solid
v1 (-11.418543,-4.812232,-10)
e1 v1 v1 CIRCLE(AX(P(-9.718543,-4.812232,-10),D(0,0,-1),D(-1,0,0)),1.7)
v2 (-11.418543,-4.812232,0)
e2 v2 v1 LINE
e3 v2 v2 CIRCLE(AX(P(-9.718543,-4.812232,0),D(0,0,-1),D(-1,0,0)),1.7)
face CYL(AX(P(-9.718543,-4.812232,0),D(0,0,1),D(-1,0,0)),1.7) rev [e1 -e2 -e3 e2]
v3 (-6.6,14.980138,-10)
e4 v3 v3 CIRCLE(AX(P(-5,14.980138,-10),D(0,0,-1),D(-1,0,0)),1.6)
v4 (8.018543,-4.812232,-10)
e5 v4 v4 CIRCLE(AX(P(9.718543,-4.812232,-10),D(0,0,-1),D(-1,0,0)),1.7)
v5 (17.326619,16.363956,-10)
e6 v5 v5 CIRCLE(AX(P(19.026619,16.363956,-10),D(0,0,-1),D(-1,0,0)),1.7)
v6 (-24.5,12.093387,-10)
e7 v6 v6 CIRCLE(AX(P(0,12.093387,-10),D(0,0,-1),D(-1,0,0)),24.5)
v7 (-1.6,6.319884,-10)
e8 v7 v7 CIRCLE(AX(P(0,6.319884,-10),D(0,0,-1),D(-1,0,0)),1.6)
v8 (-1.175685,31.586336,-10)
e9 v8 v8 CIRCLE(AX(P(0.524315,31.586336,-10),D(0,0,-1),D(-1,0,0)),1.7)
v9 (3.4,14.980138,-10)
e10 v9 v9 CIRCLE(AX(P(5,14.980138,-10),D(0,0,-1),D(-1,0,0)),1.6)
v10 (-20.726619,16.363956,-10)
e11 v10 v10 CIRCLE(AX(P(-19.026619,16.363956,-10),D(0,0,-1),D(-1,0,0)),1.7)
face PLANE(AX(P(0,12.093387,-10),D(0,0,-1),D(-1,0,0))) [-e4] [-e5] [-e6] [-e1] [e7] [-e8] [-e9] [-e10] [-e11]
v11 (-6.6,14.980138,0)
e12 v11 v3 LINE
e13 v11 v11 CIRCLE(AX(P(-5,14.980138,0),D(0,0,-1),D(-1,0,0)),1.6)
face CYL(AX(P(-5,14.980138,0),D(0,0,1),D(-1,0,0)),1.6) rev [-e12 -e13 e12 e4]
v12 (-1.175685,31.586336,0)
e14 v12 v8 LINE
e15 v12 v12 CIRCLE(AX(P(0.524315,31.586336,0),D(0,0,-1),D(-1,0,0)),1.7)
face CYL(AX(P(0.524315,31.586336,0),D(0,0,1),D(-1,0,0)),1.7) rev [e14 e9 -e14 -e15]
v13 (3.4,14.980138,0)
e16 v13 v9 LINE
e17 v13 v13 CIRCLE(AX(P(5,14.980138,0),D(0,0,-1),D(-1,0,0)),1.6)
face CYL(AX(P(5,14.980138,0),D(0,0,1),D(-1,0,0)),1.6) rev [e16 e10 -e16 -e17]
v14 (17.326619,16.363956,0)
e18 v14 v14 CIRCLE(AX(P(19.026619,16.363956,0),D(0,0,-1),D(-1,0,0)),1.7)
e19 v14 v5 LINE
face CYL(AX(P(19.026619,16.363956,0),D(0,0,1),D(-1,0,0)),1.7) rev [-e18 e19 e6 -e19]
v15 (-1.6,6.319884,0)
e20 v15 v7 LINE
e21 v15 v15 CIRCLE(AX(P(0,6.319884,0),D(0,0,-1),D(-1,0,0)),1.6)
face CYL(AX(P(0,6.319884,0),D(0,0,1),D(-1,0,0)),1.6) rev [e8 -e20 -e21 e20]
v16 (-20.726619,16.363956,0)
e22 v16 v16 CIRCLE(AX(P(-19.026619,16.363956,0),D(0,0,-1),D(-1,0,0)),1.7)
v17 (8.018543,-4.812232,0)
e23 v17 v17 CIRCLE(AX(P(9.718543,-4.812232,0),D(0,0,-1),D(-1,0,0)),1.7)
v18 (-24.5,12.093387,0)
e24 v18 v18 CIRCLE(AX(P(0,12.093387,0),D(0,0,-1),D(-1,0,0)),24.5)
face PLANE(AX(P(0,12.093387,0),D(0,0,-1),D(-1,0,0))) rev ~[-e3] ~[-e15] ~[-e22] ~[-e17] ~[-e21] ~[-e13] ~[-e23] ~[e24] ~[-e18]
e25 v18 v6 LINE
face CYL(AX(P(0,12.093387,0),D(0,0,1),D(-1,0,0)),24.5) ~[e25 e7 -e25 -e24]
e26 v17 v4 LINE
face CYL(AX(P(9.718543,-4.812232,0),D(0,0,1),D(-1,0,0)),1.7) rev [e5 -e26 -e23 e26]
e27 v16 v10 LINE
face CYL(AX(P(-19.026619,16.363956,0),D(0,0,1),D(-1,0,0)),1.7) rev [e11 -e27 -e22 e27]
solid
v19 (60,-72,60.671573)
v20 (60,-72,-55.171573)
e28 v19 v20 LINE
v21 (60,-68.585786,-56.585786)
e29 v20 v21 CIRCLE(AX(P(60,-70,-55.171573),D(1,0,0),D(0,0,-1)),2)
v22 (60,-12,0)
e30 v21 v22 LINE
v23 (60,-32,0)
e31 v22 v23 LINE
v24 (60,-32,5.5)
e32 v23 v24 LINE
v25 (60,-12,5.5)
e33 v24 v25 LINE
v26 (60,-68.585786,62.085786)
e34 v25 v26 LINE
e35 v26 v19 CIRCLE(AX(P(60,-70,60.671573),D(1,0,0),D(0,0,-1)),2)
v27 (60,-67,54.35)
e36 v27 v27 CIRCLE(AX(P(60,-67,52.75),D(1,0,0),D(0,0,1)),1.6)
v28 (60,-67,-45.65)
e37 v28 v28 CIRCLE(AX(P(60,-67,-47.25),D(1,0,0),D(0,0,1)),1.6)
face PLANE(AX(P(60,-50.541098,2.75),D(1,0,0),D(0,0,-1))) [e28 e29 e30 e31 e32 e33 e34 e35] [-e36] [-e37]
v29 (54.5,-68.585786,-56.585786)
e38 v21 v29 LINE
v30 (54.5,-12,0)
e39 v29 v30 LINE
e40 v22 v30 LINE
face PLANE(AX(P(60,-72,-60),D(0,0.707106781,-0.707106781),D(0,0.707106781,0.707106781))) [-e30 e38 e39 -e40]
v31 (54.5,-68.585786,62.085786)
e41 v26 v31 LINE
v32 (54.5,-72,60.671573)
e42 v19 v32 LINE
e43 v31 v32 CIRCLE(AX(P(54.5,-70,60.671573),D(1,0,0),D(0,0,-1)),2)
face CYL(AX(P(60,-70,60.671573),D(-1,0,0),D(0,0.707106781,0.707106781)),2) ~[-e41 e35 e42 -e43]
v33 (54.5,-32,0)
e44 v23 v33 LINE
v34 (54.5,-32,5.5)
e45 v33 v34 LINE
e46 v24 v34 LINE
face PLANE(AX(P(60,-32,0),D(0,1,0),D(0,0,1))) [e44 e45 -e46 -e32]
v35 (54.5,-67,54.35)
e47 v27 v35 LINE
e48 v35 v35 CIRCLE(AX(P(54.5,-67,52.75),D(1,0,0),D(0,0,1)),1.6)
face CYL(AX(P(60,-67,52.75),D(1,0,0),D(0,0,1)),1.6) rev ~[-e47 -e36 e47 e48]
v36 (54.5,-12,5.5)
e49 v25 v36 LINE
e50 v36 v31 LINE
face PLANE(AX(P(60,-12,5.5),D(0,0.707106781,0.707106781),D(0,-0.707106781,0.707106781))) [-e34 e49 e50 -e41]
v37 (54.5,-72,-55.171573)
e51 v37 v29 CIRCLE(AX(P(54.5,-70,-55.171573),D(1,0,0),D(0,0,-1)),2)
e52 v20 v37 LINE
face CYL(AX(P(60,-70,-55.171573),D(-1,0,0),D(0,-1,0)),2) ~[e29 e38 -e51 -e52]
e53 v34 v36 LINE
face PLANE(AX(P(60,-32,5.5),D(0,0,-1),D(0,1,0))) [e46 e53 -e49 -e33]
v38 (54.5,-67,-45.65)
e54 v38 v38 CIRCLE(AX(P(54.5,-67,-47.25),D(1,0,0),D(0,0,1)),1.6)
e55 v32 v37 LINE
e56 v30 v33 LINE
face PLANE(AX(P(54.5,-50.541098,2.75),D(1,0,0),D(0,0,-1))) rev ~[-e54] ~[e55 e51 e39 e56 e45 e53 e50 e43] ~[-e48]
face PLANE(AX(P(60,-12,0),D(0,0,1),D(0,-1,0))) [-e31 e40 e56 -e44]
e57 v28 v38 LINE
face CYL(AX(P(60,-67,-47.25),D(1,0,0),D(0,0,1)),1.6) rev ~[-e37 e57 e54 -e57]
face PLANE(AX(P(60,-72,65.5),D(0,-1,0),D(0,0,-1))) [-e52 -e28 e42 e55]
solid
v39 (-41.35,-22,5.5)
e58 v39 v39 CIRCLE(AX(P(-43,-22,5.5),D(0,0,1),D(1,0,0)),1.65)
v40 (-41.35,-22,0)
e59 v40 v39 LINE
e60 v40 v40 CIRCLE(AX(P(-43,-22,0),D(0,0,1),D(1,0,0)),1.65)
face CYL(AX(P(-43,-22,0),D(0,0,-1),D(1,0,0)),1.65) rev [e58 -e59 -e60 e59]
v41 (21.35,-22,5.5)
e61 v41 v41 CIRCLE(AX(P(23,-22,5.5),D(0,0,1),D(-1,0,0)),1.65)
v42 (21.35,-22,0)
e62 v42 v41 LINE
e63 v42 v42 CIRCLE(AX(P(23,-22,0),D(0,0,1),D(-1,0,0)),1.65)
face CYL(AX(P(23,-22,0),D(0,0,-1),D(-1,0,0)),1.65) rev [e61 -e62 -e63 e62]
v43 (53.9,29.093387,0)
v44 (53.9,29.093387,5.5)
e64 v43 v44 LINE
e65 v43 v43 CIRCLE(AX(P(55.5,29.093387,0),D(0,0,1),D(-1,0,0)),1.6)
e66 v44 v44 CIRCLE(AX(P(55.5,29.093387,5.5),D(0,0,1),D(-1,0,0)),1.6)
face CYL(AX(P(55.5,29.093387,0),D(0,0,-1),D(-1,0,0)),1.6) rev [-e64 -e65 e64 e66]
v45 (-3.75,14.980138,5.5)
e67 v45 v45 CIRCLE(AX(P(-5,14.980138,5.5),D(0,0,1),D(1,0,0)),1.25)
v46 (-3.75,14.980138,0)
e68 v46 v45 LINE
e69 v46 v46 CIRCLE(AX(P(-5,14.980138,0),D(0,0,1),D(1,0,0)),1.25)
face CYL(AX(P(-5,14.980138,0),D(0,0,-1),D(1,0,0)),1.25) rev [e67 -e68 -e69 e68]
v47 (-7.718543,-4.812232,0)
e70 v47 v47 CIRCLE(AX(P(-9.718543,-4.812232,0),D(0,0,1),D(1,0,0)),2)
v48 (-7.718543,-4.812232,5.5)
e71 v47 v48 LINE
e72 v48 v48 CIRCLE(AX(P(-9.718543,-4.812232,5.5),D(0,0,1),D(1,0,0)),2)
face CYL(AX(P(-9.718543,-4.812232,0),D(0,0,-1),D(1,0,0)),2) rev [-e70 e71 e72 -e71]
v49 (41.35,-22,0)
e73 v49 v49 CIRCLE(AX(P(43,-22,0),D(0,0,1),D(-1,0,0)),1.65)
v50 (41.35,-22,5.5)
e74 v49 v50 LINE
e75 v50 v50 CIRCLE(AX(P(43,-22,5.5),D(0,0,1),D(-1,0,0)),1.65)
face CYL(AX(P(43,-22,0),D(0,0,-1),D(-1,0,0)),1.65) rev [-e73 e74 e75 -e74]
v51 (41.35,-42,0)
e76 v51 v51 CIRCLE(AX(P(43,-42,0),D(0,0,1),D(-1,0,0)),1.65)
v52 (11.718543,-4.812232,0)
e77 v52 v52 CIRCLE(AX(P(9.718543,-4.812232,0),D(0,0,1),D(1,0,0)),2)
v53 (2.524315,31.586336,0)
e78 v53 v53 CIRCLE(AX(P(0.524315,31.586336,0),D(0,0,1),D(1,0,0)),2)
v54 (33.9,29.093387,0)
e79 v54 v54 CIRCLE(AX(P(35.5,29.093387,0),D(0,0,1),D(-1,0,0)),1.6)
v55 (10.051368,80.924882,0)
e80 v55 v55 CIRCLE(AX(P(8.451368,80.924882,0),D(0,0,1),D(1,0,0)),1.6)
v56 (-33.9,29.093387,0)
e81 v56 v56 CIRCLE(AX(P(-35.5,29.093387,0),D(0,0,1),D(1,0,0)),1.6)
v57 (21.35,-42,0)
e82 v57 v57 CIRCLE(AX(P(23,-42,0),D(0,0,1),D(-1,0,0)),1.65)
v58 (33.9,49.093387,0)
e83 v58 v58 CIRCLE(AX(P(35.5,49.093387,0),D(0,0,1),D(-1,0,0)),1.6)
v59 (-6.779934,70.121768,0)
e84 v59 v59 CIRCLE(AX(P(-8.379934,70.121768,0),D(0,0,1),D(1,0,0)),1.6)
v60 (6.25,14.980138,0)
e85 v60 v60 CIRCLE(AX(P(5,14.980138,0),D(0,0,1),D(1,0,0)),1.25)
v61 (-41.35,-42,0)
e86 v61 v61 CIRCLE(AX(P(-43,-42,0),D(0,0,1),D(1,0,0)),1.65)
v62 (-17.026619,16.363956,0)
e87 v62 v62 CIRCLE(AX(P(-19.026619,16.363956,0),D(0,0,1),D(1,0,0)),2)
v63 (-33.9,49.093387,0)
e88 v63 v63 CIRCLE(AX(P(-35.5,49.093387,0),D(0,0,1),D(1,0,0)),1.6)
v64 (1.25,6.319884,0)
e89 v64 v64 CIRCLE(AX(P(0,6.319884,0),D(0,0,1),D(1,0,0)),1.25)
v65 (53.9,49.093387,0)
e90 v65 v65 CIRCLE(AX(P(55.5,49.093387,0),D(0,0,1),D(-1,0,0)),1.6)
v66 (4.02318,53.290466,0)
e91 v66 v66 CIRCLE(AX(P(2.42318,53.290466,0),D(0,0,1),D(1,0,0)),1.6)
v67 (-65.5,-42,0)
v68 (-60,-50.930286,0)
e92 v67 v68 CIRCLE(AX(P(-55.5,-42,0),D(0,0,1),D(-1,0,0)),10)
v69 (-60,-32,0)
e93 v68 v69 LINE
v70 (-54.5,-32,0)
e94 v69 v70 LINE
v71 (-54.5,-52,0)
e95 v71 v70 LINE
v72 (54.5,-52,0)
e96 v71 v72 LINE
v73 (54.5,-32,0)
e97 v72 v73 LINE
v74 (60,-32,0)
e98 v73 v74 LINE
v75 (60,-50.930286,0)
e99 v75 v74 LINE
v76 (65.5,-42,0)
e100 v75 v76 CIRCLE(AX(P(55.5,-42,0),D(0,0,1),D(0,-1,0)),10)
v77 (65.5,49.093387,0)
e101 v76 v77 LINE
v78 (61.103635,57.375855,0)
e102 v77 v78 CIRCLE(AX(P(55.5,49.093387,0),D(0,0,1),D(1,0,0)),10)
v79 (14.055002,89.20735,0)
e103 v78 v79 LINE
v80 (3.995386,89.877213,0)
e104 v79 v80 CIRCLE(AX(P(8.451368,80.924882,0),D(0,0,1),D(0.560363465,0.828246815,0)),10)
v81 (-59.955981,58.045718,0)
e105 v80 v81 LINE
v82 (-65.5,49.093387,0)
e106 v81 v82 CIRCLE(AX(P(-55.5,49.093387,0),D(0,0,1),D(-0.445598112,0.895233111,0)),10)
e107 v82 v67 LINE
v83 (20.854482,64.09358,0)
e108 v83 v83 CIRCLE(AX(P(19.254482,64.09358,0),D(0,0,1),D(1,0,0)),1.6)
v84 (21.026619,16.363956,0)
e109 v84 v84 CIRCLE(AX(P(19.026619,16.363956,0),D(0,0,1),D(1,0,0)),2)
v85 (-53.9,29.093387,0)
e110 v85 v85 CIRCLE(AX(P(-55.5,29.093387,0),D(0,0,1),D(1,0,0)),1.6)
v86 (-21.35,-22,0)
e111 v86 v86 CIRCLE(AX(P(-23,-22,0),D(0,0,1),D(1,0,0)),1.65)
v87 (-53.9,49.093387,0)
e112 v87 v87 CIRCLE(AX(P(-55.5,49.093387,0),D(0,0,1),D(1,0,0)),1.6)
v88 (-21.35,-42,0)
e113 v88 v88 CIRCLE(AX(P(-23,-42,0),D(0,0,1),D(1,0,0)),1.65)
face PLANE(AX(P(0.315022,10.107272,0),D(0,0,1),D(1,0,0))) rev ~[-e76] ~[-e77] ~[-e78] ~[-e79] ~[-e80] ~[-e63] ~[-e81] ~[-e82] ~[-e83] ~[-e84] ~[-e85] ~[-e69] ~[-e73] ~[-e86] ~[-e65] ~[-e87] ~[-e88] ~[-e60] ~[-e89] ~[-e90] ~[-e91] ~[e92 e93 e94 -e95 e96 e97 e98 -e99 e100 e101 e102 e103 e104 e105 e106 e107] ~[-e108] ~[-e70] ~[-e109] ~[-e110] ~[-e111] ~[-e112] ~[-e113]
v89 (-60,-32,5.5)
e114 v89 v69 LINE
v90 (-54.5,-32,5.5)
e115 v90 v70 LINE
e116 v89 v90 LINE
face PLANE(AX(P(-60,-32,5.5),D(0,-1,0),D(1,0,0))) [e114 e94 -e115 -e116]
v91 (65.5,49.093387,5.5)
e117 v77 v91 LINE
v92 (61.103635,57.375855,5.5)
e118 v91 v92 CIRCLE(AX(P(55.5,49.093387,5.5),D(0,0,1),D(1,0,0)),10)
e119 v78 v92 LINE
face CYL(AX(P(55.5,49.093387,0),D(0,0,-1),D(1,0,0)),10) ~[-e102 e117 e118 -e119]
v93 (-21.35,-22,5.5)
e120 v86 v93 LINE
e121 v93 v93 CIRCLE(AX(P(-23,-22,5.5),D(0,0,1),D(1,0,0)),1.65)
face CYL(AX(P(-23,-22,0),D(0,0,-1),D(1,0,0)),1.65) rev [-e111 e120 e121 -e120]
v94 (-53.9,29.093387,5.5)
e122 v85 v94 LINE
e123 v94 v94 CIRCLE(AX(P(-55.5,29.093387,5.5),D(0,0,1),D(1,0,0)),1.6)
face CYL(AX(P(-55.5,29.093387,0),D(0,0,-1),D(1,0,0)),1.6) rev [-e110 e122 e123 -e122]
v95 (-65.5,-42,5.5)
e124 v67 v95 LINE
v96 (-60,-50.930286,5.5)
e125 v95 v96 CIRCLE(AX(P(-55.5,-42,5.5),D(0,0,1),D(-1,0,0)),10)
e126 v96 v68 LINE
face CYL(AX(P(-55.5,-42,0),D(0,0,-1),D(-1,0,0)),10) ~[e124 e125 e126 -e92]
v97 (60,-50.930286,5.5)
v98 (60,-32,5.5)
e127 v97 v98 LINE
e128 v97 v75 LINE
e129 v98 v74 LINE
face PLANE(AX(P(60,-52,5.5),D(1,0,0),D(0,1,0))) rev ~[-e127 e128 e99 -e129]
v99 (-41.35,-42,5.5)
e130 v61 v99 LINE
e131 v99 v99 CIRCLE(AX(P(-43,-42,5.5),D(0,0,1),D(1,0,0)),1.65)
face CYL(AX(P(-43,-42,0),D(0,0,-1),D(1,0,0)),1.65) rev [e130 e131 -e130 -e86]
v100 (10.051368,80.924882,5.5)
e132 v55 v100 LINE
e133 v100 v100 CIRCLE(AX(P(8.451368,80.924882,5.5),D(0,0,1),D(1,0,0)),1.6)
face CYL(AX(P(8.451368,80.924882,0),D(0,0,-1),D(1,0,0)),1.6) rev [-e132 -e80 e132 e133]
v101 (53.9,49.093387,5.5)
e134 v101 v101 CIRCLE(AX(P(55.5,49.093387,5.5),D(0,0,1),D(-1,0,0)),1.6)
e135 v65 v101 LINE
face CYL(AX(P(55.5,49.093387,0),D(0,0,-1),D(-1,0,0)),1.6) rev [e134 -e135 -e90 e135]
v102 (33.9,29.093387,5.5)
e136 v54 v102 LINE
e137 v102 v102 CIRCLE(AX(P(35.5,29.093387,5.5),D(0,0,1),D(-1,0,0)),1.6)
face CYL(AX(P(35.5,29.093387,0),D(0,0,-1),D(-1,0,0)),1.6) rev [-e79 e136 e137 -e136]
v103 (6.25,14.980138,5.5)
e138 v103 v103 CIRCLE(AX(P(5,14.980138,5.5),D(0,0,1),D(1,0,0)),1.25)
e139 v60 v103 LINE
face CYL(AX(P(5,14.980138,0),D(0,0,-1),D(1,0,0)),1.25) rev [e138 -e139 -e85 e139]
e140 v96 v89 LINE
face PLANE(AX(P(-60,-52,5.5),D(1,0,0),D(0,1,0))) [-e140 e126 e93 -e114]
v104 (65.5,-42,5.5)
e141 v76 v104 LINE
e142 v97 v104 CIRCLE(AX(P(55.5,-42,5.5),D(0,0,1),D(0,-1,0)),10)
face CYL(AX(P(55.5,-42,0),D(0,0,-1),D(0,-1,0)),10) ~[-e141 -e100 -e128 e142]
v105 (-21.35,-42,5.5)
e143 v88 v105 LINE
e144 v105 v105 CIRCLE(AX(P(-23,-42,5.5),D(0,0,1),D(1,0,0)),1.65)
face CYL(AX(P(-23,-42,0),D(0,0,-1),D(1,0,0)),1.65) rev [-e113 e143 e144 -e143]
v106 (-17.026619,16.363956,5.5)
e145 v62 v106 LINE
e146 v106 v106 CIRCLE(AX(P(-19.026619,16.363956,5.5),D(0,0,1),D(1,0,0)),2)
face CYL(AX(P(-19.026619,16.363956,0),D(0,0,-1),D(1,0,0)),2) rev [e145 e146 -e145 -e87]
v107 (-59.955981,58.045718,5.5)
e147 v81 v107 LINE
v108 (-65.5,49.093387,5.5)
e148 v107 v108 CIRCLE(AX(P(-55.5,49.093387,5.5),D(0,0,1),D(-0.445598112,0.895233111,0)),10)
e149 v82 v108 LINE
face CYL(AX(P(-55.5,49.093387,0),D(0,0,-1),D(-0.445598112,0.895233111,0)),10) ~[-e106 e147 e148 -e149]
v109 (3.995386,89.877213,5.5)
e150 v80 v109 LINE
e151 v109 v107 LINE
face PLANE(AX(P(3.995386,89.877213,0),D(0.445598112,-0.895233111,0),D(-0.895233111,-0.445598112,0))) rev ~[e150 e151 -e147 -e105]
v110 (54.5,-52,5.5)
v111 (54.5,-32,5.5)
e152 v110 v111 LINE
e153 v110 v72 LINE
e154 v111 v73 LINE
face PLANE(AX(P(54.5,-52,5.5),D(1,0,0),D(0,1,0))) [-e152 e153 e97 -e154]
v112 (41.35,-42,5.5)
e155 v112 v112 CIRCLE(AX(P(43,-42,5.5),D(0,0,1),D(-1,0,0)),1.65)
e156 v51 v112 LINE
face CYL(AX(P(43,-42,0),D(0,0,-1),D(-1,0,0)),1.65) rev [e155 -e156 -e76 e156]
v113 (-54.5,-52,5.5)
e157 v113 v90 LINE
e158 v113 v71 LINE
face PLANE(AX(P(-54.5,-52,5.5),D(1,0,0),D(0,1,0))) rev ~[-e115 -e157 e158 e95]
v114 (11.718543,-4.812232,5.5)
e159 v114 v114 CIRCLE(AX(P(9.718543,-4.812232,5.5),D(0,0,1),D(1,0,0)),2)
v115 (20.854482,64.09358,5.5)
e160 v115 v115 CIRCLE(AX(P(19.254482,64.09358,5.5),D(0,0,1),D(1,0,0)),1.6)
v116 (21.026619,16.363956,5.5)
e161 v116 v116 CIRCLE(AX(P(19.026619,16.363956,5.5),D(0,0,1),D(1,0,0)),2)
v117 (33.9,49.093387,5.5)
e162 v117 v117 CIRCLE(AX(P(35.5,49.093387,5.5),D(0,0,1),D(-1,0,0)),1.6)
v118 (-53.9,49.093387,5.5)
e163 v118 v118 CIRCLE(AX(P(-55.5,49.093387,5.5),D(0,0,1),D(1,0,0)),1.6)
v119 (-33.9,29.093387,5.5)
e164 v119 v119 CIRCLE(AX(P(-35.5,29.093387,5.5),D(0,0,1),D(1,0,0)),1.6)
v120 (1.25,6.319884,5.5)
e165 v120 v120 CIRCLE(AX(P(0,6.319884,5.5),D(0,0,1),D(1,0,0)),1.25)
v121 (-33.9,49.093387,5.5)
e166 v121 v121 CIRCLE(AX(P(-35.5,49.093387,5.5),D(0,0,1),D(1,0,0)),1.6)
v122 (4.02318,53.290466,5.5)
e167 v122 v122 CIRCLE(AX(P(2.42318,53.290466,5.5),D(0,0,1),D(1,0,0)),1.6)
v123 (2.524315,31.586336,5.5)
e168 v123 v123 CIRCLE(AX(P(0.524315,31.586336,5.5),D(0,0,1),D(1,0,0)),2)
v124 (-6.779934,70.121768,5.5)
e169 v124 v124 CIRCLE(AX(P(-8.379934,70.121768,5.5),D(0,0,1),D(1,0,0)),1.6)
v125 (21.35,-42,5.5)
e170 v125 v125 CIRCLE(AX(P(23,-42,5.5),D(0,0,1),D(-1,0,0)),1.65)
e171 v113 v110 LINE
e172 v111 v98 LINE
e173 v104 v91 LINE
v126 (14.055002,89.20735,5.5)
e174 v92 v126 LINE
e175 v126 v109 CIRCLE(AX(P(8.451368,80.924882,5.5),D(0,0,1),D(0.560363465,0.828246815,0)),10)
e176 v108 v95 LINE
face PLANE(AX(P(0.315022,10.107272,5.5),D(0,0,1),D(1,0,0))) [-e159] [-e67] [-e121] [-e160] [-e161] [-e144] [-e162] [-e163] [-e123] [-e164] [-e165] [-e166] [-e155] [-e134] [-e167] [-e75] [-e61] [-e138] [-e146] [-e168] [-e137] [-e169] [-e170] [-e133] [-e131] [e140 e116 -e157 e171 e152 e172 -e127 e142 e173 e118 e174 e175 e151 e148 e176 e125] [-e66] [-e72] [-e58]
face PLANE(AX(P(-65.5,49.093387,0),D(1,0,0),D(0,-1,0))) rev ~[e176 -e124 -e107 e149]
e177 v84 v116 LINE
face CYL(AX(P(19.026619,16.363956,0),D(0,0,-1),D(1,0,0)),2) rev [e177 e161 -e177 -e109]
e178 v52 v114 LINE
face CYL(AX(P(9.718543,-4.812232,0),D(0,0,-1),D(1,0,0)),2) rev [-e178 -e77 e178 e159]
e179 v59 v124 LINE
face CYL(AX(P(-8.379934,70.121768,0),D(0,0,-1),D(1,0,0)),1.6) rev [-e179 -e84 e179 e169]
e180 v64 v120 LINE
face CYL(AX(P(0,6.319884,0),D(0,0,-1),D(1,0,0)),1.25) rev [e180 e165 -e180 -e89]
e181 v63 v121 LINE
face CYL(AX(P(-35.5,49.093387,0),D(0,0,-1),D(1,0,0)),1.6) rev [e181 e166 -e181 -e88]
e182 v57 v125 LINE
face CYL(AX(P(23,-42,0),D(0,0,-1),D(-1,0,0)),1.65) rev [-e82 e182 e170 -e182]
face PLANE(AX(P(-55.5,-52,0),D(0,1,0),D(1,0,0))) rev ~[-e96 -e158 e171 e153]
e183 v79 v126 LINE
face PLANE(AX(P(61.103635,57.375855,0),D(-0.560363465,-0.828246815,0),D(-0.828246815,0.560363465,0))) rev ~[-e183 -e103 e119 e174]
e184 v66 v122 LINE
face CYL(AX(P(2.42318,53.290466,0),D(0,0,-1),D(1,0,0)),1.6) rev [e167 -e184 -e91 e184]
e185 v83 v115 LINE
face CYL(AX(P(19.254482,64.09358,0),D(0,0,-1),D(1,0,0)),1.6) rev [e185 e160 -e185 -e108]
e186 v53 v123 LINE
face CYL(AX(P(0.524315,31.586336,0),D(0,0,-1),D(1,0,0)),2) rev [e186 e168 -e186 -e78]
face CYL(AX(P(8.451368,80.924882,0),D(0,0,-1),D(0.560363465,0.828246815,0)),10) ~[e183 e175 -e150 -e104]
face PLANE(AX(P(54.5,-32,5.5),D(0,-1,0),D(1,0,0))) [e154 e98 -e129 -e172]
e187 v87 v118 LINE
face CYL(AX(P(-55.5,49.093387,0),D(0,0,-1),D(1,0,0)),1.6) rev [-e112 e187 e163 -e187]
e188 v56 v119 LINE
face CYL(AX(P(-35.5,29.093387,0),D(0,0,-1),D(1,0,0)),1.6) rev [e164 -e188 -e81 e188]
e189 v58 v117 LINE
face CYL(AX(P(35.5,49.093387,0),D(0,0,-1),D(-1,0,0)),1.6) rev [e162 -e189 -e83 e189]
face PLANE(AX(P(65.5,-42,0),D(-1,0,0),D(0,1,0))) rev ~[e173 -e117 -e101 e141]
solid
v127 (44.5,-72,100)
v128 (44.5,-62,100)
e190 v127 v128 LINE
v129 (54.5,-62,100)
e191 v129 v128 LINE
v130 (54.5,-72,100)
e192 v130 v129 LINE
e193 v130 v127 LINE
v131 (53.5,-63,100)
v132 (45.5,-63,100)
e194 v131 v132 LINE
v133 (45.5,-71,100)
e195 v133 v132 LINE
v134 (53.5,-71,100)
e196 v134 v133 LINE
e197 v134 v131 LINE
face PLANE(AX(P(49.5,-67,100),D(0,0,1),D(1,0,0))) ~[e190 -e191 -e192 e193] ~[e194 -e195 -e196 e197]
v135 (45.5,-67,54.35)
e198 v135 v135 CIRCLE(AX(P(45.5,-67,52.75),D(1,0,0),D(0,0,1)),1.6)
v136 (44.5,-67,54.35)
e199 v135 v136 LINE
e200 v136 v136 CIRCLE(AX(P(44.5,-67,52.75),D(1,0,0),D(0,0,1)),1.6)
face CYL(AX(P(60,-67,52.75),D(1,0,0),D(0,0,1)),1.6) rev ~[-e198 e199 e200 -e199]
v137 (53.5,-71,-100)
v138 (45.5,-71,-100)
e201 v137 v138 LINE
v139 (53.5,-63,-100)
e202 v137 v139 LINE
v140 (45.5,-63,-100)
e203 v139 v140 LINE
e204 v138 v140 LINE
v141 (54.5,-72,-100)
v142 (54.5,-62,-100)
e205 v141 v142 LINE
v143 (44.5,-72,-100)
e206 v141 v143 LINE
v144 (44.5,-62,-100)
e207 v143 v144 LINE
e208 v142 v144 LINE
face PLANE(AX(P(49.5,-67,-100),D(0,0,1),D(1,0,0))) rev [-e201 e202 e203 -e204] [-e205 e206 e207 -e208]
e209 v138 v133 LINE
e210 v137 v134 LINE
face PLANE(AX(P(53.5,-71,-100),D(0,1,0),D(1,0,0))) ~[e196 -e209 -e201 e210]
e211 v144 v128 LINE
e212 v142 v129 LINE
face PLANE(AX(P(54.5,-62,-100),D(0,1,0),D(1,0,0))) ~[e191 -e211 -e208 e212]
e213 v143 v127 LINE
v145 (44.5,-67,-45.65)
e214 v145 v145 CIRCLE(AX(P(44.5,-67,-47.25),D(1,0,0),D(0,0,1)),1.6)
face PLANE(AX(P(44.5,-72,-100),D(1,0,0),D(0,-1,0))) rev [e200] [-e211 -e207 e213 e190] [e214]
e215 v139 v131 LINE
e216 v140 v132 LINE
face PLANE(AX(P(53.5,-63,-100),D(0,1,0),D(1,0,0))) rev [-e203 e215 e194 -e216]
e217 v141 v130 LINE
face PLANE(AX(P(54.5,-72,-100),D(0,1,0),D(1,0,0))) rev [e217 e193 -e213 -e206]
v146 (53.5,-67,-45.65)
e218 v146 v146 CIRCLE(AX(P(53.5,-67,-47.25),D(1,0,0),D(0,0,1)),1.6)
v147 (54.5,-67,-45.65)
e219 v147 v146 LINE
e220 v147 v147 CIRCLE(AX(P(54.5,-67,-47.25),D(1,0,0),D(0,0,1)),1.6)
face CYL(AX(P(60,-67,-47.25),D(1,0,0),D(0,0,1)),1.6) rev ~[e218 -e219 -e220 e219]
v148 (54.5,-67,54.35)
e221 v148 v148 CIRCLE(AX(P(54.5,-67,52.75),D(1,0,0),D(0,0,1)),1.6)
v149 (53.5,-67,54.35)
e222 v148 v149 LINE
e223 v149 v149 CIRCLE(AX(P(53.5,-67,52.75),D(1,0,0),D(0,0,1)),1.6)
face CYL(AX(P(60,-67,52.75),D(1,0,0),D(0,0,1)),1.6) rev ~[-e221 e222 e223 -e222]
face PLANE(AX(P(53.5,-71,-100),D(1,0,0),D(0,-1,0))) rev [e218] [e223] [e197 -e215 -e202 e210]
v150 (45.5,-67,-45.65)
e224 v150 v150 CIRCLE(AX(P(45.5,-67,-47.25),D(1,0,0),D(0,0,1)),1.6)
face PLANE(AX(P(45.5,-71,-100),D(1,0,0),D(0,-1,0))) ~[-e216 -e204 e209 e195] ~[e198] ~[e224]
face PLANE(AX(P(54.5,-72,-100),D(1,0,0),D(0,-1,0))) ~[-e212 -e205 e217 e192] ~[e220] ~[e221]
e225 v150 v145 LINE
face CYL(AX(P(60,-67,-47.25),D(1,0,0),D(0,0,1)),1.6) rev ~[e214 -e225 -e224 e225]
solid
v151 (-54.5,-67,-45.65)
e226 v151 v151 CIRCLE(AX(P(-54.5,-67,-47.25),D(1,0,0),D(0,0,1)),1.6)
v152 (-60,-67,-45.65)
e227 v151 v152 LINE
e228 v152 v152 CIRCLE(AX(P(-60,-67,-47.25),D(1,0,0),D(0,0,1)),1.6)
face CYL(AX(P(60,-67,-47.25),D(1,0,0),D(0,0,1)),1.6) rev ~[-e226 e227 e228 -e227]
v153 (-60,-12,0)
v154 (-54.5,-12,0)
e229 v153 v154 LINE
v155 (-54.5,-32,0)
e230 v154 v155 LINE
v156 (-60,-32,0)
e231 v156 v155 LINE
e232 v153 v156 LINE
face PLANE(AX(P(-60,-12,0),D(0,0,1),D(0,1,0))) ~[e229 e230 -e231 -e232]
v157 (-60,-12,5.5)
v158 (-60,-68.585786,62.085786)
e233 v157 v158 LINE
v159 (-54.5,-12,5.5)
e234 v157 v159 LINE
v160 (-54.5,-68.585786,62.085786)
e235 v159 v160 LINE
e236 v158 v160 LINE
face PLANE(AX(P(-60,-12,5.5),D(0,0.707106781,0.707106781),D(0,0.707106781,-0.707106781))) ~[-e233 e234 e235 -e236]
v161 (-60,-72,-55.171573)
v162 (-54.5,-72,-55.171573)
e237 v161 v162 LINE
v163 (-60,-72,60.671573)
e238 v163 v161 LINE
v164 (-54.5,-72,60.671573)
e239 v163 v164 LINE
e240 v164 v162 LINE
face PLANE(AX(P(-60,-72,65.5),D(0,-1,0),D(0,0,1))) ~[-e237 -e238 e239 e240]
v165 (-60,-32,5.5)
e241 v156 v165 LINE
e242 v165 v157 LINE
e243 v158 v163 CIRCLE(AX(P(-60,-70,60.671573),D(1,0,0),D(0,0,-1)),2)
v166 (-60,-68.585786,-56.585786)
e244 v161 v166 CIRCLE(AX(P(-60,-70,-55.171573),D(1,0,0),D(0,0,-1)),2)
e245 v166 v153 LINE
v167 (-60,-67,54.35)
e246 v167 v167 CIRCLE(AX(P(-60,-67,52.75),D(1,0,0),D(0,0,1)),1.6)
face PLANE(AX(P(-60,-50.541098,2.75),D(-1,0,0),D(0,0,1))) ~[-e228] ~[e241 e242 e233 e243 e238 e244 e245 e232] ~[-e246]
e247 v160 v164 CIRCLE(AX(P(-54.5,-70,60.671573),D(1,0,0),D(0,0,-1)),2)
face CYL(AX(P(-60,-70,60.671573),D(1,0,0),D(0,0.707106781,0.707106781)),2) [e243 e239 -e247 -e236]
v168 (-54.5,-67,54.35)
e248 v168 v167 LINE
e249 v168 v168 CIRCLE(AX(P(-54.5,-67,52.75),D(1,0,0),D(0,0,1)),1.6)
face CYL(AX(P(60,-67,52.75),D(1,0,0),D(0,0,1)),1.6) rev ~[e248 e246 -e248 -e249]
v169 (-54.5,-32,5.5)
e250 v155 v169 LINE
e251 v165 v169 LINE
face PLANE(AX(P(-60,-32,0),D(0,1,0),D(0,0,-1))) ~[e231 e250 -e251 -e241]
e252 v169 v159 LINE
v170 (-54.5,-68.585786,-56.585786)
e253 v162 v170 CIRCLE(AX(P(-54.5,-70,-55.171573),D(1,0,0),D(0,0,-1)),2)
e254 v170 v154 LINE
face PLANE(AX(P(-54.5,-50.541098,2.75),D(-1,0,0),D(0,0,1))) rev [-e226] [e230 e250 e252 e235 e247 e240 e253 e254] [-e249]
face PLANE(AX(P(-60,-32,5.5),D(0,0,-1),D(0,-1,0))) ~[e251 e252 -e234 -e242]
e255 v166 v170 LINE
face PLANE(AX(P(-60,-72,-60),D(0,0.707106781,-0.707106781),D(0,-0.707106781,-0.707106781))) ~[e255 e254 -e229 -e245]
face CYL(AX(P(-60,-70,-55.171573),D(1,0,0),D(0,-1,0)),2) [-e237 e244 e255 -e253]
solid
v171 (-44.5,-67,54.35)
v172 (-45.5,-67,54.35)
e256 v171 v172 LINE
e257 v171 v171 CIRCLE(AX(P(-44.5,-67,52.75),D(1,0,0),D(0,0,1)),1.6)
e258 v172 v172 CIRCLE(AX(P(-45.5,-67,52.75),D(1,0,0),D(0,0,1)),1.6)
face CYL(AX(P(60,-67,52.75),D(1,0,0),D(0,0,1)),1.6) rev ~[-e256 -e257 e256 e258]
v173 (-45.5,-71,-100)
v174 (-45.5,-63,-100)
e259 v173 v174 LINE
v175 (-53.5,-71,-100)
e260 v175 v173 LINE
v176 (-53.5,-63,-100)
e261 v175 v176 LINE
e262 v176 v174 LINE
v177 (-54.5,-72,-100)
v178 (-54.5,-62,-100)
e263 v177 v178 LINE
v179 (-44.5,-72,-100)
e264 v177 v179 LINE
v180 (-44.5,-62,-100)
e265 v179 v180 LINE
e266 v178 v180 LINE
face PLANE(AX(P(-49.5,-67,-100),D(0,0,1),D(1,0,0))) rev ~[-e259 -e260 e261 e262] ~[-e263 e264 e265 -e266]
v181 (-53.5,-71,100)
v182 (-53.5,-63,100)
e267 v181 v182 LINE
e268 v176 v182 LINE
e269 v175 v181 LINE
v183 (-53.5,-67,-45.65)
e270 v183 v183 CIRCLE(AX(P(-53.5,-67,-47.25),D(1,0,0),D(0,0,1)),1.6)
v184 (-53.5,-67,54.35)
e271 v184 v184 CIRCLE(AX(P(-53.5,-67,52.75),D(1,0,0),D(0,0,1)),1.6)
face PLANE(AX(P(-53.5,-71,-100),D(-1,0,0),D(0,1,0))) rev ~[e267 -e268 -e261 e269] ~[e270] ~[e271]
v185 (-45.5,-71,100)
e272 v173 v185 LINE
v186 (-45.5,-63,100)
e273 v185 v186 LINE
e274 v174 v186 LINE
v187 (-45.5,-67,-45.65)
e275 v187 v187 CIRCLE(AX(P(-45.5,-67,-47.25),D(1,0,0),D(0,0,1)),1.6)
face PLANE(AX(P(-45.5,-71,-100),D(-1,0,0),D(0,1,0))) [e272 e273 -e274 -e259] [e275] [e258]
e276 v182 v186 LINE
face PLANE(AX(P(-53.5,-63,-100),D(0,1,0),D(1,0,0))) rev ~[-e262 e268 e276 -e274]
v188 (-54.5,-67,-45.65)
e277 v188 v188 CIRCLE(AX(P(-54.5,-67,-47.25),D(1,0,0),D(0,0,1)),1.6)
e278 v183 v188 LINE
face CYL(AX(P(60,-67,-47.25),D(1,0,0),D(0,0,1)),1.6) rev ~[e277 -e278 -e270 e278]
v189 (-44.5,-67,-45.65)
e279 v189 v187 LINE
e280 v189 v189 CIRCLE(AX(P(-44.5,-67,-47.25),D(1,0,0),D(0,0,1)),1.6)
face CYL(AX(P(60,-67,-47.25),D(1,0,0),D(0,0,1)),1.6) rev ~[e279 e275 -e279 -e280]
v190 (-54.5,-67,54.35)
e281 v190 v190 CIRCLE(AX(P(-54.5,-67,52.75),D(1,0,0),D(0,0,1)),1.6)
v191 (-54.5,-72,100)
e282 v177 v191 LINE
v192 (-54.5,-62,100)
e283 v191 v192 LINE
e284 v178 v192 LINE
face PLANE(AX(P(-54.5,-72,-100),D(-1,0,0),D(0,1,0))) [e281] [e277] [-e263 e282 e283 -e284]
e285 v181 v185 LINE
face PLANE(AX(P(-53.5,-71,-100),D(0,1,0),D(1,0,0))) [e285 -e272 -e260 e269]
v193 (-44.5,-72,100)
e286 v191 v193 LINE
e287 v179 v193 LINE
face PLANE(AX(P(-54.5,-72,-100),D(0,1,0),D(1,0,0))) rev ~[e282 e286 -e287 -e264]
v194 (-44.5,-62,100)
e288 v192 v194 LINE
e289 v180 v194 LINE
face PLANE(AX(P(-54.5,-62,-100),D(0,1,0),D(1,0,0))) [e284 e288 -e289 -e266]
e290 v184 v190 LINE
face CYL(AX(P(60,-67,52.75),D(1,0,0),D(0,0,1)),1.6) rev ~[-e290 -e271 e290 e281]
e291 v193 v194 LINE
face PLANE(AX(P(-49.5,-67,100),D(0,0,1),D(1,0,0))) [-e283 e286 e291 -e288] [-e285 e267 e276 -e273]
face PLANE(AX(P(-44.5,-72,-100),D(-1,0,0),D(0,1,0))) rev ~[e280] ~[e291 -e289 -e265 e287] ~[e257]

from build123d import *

# Parameters (mm, degrees)
SKETCH_2_R           = 1.65
SKETCH_2_R_2         = 1.6
SKETCH_2_R_3         = 2
SKETCH_2_R_4         = 1.25
EXTRUDE_1_DEPTH      = 5.5
SKETCH_4_R           = 24.5
SKETCH_4_R_2         = 1.7
SKETCH_4_R_3         = 1.6
EXTRUDE_2_DEPTH      = 10
SKETCH_6_W           = 5.5
SKETCH_6_H           = 20
CUT_EXTRUDE_1_DEPTH  = 114.127512901
EXTRUDE_3_DEPTH      = 5.5
FILLET_1_R           = 2
EXTRUDE_4_DEPTH      = 100
EXTRUDE_4_DEPTH_BACK = 100
SKETCH_8_W           = 10
SKETCH_8_H           = 10
SKETCH_8_W_2         = 8
SKETCH_8_H_2         = 8
SKETCH_9_R           = 1.6
CUT_EXTRUDE_2_DEPTH  = 185.438564772


with BuildPart() as part:
    # ｽｹｯﾁ2 → ﾎﾞｽ - 押し出し1 (new body)
    with BuildSketch(Plane.XY):
        with BuildLine():
            Line((-65.5, 49.093386622), (-65.5, -42))
            ThreePointArc((-65.5, -42), (-62.571067812, -49.071067812), (-55.5, -52))
            Line((-55.5, -52), (55.5, -52))
            ThreePointArc((55.5, -52), (62.571067812, -49.071067812), (65.5, -42))
            Line((65.5, -42), (65.5, 49.093386622))
            ThreePointArc((65.5, 49.093386622), (64.332789665, 53.781864705), (61.103634655, 57.375854772))
            Line((61.103634655, 57.375854772), (14.055002247, 89.207350196))
            ThreePointArc((14.055002247, 89.207350196), (9.115789336, 90.902784819), (3.995386471, 89.877213153))
            Line((3.995386471, 89.877213153), (-59.955981121, 58.045717729))
            ThreePointArc((-59.955981121, 58.045717729), (-64.001758971, 54.358374219), (-65.5, 49.093386622))
        make_face()
        with Locations((-43, -42)):
            Circle(SKETCH_2_R, mode=Mode.SUBTRACT)
        with Locations((-43, -22)):
            Circle(SKETCH_2_R, mode=Mode.SUBTRACT)
        with Locations((-23, -22)):
            Circle(SKETCH_2_R, mode=Mode.SUBTRACT)
        with Locations((-23, -42)):
            Circle(SKETCH_2_R, mode=Mode.SUBTRACT)
        with Locations(Location((23, -42, 0), (0, 0, 180))):
            Circle(SKETCH_2_R, mode=Mode.SUBTRACT)
        with Locations(Location((23, -22, 0), (0, 0, 180))):
            Circle(SKETCH_2_R, mode=Mode.SUBTRACT)
        with Locations(Location((43, -22, 0), (0, 0, 180))):
            Circle(SKETCH_2_R, mode=Mode.SUBTRACT)
        with Locations(Location((43, -42, 0), (0, 0, 180))):
            Circle(SKETCH_2_R, mode=Mode.SUBTRACT)
        with Locations((-55.5, 49.093386622)):
            Circle(SKETCH_2_R_2, mode=Mode.SUBTRACT)
        with Locations((-55.5, 29.093386622)):
            Circle(SKETCH_2_R_2, mode=Mode.SUBTRACT)
        with Locations((-35.5, 29.093386622)):
            Circle(SKETCH_2_R_2, mode=Mode.SUBTRACT)
        with Locations((-35.5, 49.093386622)):
            Circle(SKETCH_2_R_2, mode=Mode.SUBTRACT)
        with Locations(Location((35.5, 49.093386622, 0), (0, 0, 180))):
            Circle(SKETCH_2_R_2, mode=Mode.SUBTRACT)
        with Locations(Location((35.5, 29.093386622, 0), (0, 0, 180))):
            Circle(SKETCH_2_R_2, mode=Mode.SUBTRACT)
        with Locations(Location((55.5, 29.093386622, 0), (0, 0, 180))):
            Circle(SKETCH_2_R_2, mode=Mode.SUBTRACT)
        with Locations(Location((55.5, 49.093386622, 0), (0, 0, 180))):
            Circle(SKETCH_2_R_2, mode=Mode.SUBTRACT)
        with Locations((8.451367593, 80.924882046)):
            Circle(SKETCH_2_R_2, mode=Mode.SUBTRACT)
        with Locations((-8.379934091, 70.121767512)):
            Circle(SKETCH_2_R_2, mode=Mode.SUBTRACT)
        with Locations((2.423180443, 53.290465828)):
            Circle(SKETCH_2_R_2, mode=Mode.SUBTRACT)
        with Locations((19.254482127, 64.093580363)):
            Circle(SKETCH_2_R_2, mode=Mode.SUBTRACT)
        with Locations((-19.026619177, 16.363955986)):
            Circle(SKETCH_2_R_3, mode=Mode.SUBTRACT)
        with Locations((0.524315172, 31.586336466)):
            Circle(SKETCH_2_R_3, mode=Mode.SUBTRACT)
        with Locations((19.026619177, 16.363955986)):
            Circle(SKETCH_2_R_3, mode=Mode.SUBTRACT)
        with Locations((9.718542636, -4.812231646)):
            Circle(SKETCH_2_R_3, mode=Mode.SUBTRACT)
        with Locations((-9.718542636, -4.812231646)):
            Circle(SKETCH_2_R_3, mode=Mode.SUBTRACT)
        with Locations((0, 6.319883931)):
            Circle(SKETCH_2_R_4, mode=Mode.SUBTRACT)
        with Locations((-5, 14.980137968)):
            Circle(SKETCH_2_R_4, mode=Mode.SUBTRACT)
        with Locations((5, 14.980137968)):
            Circle(SKETCH_2_R_4, mode=Mode.SUBTRACT)
    extrude(amount=EXTRUDE_1_DEPTH)

    # ｽｹｯﾁ6 → ｶｯﾄ - 押し出し1 (cut, through all)
    with BuildSketch(Plane.XY.offset(5.5)):
        with Locations((57.25, -42)):
            Rectangle(SKETCH_6_W, SKETCH_6_H)
        with Locations((-57.25, -42)):
            Rectangle(SKETCH_6_W, SKETCH_6_H)
    extrude(amount=-CUT_EXTRUDE_1_DEPTH, mode=Mode.SUBTRACT)


with BuildPart() as body_2:
    # ｽｹｯﾁ4 → ﾎﾞｽ - 押し出し2 (new body)
    with BuildSketch(Plane(origin=(0, 0, 0), x_dir=(-1, 0, 0), z_dir=(0, 0, -1))):
        with Locations((0, 12.093386622)):
            Circle(SKETCH_4_R)
        with Locations((-0.524315172, 31.586336466)):
            Circle(SKETCH_4_R_2, mode=Mode.SUBTRACT)
        with Locations((-19.026619177, 16.363955986)):
            Circle(SKETCH_4_R_2, mode=Mode.SUBTRACT)
        with Locations((19.026619177, 16.363955986)):
            Circle(SKETCH_4_R_2, mode=Mode.SUBTRACT)
        with Locations((9.718542636, -4.812231646)):
            Circle(SKETCH_4_R_2, mode=Mode.SUBTRACT)
        with Locations((-9.718542636, -4.812231646)):
            Circle(SKETCH_4_R_2, mode=Mode.SUBTRACT)
        with Locations((0, 6.319883931)):
            Circle(SKETCH_4_R_3, mode=Mode.SUBTRACT)
        with Locations((-5, 14.980137968)):
            Circle(SKETCH_4_R_3, mode=Mode.SUBTRACT)
        with Locations((5, 14.980137968)):
            Circle(SKETCH_4_R_3, mode=Mode.SUBTRACT)
    extrude(amount=EXTRUDE_2_DEPTH)


with BuildPart() as body_3:
    # ｽｹｯﾁ7 → ﾎﾞｽ - 押し出し3 (new body)
    with BuildSketch(Plane.ZY.offset(-60)):
        Polygon((0, -32), (5.5, -32), (5.5, -12), (65.5, -72), (-60, -72), (0, -12), align=None)
    extrude(amount=EXTRUDE_3_DEPTH)

    # ﾌｨﾚｯﾄ1
    fillet_1_edges = [body_3.edges().sort_by_distance(p)[0] for p in [
        (57.25, -72, 65.5),
        (57.25, -72, -60),
    ]]
    fillet(fillet_1_edges, radius=FILLET_1_R)


with BuildPart() as body_4:
    # ﾐﾗｰ1: mirrored copy
    add(body_3.part.mirror(Plane(origin=(0, 0, 0), x_dir=(0, 0, 1), z_dir=(1, 0, 0))))


with BuildPart() as body_5:
    # ｽｹｯﾁ8 → ﾎﾞｽ - 押し出し4 (new, two sides: drawn at the far end of the back side and taken through both)
    with BuildSketch(Plane.XY.offset(-EXTRUDE_4_DEPTH_BACK)):
        with Locations((-49.5, -67)):
            Rectangle(SKETCH_8_W, SKETCH_8_H)
        with Locations((-49.5, -67)):
            Rectangle(SKETCH_8_W_2, SKETCH_8_H_2, mode=Mode.SUBTRACT)
    extrude(amount=EXTRUDE_4_DEPTH + EXTRUDE_4_DEPTH_BACK)


with BuildPart() as body_6:
    # ﾐﾗｰ2: mirrored copy
    add(body_5.part.mirror(Plane(origin=(0, 0, 0), x_dir=(0, 0, 1), z_dir=(1, 0, 0))))


with BuildPart() as cut_extrude_2_tool:
    # ｽｹｯﾁ9 → ｶｯﾄ - 押し出し2 (new, through all)
    with BuildSketch(Plane(origin=(60, 0, 0), x_dir=(0, 0, -1), z_dir=(1, 0, 0))):
        with Locations(Location((47.25, -67, 0), (0, 0, 180))):
            Circle(SKETCH_9_R)
        with Locations(Location((-52.75, -67, 0), (0, 0, 180))):
            Circle(SKETCH_9_R)
    extrude(amount=-CUT_EXTRUDE_2_DEPTH)


with BuildPart() as body_3_1:
    add(body_3.part)

    # ｶｯﾄ - 押し出し2: cut by cut_extrude_2_tool
    add(cut_extrude_2_tool.part, mode=Mode.SUBTRACT)


with BuildPart() as body_4_1:
    add(body_4.part)

    # ｶｯﾄ - 押し出し2: cut by cut_extrude_2_tool
    add(cut_extrude_2_tool.part, mode=Mode.SUBTRACT)


with BuildPart() as body_5_1:
    add(body_5.part)

    # ｶｯﾄ - 押し出し2: cut by cut_extrude_2_tool
    add(cut_extrude_2_tool.part, mode=Mode.SUBTRACT)


with BuildPart() as body_6_1:
    add(body_6.part)

    # ｶｯﾄ - 押し出し2: cut by cut_extrude_2_tool
    add(cut_extrude_2_tool.part, mode=Mode.SUBTRACT)


solid = Compound([part.part, body_2.part, body_3_1.part, body_4_1.part, body_5_1.part, body_6_1.part])
